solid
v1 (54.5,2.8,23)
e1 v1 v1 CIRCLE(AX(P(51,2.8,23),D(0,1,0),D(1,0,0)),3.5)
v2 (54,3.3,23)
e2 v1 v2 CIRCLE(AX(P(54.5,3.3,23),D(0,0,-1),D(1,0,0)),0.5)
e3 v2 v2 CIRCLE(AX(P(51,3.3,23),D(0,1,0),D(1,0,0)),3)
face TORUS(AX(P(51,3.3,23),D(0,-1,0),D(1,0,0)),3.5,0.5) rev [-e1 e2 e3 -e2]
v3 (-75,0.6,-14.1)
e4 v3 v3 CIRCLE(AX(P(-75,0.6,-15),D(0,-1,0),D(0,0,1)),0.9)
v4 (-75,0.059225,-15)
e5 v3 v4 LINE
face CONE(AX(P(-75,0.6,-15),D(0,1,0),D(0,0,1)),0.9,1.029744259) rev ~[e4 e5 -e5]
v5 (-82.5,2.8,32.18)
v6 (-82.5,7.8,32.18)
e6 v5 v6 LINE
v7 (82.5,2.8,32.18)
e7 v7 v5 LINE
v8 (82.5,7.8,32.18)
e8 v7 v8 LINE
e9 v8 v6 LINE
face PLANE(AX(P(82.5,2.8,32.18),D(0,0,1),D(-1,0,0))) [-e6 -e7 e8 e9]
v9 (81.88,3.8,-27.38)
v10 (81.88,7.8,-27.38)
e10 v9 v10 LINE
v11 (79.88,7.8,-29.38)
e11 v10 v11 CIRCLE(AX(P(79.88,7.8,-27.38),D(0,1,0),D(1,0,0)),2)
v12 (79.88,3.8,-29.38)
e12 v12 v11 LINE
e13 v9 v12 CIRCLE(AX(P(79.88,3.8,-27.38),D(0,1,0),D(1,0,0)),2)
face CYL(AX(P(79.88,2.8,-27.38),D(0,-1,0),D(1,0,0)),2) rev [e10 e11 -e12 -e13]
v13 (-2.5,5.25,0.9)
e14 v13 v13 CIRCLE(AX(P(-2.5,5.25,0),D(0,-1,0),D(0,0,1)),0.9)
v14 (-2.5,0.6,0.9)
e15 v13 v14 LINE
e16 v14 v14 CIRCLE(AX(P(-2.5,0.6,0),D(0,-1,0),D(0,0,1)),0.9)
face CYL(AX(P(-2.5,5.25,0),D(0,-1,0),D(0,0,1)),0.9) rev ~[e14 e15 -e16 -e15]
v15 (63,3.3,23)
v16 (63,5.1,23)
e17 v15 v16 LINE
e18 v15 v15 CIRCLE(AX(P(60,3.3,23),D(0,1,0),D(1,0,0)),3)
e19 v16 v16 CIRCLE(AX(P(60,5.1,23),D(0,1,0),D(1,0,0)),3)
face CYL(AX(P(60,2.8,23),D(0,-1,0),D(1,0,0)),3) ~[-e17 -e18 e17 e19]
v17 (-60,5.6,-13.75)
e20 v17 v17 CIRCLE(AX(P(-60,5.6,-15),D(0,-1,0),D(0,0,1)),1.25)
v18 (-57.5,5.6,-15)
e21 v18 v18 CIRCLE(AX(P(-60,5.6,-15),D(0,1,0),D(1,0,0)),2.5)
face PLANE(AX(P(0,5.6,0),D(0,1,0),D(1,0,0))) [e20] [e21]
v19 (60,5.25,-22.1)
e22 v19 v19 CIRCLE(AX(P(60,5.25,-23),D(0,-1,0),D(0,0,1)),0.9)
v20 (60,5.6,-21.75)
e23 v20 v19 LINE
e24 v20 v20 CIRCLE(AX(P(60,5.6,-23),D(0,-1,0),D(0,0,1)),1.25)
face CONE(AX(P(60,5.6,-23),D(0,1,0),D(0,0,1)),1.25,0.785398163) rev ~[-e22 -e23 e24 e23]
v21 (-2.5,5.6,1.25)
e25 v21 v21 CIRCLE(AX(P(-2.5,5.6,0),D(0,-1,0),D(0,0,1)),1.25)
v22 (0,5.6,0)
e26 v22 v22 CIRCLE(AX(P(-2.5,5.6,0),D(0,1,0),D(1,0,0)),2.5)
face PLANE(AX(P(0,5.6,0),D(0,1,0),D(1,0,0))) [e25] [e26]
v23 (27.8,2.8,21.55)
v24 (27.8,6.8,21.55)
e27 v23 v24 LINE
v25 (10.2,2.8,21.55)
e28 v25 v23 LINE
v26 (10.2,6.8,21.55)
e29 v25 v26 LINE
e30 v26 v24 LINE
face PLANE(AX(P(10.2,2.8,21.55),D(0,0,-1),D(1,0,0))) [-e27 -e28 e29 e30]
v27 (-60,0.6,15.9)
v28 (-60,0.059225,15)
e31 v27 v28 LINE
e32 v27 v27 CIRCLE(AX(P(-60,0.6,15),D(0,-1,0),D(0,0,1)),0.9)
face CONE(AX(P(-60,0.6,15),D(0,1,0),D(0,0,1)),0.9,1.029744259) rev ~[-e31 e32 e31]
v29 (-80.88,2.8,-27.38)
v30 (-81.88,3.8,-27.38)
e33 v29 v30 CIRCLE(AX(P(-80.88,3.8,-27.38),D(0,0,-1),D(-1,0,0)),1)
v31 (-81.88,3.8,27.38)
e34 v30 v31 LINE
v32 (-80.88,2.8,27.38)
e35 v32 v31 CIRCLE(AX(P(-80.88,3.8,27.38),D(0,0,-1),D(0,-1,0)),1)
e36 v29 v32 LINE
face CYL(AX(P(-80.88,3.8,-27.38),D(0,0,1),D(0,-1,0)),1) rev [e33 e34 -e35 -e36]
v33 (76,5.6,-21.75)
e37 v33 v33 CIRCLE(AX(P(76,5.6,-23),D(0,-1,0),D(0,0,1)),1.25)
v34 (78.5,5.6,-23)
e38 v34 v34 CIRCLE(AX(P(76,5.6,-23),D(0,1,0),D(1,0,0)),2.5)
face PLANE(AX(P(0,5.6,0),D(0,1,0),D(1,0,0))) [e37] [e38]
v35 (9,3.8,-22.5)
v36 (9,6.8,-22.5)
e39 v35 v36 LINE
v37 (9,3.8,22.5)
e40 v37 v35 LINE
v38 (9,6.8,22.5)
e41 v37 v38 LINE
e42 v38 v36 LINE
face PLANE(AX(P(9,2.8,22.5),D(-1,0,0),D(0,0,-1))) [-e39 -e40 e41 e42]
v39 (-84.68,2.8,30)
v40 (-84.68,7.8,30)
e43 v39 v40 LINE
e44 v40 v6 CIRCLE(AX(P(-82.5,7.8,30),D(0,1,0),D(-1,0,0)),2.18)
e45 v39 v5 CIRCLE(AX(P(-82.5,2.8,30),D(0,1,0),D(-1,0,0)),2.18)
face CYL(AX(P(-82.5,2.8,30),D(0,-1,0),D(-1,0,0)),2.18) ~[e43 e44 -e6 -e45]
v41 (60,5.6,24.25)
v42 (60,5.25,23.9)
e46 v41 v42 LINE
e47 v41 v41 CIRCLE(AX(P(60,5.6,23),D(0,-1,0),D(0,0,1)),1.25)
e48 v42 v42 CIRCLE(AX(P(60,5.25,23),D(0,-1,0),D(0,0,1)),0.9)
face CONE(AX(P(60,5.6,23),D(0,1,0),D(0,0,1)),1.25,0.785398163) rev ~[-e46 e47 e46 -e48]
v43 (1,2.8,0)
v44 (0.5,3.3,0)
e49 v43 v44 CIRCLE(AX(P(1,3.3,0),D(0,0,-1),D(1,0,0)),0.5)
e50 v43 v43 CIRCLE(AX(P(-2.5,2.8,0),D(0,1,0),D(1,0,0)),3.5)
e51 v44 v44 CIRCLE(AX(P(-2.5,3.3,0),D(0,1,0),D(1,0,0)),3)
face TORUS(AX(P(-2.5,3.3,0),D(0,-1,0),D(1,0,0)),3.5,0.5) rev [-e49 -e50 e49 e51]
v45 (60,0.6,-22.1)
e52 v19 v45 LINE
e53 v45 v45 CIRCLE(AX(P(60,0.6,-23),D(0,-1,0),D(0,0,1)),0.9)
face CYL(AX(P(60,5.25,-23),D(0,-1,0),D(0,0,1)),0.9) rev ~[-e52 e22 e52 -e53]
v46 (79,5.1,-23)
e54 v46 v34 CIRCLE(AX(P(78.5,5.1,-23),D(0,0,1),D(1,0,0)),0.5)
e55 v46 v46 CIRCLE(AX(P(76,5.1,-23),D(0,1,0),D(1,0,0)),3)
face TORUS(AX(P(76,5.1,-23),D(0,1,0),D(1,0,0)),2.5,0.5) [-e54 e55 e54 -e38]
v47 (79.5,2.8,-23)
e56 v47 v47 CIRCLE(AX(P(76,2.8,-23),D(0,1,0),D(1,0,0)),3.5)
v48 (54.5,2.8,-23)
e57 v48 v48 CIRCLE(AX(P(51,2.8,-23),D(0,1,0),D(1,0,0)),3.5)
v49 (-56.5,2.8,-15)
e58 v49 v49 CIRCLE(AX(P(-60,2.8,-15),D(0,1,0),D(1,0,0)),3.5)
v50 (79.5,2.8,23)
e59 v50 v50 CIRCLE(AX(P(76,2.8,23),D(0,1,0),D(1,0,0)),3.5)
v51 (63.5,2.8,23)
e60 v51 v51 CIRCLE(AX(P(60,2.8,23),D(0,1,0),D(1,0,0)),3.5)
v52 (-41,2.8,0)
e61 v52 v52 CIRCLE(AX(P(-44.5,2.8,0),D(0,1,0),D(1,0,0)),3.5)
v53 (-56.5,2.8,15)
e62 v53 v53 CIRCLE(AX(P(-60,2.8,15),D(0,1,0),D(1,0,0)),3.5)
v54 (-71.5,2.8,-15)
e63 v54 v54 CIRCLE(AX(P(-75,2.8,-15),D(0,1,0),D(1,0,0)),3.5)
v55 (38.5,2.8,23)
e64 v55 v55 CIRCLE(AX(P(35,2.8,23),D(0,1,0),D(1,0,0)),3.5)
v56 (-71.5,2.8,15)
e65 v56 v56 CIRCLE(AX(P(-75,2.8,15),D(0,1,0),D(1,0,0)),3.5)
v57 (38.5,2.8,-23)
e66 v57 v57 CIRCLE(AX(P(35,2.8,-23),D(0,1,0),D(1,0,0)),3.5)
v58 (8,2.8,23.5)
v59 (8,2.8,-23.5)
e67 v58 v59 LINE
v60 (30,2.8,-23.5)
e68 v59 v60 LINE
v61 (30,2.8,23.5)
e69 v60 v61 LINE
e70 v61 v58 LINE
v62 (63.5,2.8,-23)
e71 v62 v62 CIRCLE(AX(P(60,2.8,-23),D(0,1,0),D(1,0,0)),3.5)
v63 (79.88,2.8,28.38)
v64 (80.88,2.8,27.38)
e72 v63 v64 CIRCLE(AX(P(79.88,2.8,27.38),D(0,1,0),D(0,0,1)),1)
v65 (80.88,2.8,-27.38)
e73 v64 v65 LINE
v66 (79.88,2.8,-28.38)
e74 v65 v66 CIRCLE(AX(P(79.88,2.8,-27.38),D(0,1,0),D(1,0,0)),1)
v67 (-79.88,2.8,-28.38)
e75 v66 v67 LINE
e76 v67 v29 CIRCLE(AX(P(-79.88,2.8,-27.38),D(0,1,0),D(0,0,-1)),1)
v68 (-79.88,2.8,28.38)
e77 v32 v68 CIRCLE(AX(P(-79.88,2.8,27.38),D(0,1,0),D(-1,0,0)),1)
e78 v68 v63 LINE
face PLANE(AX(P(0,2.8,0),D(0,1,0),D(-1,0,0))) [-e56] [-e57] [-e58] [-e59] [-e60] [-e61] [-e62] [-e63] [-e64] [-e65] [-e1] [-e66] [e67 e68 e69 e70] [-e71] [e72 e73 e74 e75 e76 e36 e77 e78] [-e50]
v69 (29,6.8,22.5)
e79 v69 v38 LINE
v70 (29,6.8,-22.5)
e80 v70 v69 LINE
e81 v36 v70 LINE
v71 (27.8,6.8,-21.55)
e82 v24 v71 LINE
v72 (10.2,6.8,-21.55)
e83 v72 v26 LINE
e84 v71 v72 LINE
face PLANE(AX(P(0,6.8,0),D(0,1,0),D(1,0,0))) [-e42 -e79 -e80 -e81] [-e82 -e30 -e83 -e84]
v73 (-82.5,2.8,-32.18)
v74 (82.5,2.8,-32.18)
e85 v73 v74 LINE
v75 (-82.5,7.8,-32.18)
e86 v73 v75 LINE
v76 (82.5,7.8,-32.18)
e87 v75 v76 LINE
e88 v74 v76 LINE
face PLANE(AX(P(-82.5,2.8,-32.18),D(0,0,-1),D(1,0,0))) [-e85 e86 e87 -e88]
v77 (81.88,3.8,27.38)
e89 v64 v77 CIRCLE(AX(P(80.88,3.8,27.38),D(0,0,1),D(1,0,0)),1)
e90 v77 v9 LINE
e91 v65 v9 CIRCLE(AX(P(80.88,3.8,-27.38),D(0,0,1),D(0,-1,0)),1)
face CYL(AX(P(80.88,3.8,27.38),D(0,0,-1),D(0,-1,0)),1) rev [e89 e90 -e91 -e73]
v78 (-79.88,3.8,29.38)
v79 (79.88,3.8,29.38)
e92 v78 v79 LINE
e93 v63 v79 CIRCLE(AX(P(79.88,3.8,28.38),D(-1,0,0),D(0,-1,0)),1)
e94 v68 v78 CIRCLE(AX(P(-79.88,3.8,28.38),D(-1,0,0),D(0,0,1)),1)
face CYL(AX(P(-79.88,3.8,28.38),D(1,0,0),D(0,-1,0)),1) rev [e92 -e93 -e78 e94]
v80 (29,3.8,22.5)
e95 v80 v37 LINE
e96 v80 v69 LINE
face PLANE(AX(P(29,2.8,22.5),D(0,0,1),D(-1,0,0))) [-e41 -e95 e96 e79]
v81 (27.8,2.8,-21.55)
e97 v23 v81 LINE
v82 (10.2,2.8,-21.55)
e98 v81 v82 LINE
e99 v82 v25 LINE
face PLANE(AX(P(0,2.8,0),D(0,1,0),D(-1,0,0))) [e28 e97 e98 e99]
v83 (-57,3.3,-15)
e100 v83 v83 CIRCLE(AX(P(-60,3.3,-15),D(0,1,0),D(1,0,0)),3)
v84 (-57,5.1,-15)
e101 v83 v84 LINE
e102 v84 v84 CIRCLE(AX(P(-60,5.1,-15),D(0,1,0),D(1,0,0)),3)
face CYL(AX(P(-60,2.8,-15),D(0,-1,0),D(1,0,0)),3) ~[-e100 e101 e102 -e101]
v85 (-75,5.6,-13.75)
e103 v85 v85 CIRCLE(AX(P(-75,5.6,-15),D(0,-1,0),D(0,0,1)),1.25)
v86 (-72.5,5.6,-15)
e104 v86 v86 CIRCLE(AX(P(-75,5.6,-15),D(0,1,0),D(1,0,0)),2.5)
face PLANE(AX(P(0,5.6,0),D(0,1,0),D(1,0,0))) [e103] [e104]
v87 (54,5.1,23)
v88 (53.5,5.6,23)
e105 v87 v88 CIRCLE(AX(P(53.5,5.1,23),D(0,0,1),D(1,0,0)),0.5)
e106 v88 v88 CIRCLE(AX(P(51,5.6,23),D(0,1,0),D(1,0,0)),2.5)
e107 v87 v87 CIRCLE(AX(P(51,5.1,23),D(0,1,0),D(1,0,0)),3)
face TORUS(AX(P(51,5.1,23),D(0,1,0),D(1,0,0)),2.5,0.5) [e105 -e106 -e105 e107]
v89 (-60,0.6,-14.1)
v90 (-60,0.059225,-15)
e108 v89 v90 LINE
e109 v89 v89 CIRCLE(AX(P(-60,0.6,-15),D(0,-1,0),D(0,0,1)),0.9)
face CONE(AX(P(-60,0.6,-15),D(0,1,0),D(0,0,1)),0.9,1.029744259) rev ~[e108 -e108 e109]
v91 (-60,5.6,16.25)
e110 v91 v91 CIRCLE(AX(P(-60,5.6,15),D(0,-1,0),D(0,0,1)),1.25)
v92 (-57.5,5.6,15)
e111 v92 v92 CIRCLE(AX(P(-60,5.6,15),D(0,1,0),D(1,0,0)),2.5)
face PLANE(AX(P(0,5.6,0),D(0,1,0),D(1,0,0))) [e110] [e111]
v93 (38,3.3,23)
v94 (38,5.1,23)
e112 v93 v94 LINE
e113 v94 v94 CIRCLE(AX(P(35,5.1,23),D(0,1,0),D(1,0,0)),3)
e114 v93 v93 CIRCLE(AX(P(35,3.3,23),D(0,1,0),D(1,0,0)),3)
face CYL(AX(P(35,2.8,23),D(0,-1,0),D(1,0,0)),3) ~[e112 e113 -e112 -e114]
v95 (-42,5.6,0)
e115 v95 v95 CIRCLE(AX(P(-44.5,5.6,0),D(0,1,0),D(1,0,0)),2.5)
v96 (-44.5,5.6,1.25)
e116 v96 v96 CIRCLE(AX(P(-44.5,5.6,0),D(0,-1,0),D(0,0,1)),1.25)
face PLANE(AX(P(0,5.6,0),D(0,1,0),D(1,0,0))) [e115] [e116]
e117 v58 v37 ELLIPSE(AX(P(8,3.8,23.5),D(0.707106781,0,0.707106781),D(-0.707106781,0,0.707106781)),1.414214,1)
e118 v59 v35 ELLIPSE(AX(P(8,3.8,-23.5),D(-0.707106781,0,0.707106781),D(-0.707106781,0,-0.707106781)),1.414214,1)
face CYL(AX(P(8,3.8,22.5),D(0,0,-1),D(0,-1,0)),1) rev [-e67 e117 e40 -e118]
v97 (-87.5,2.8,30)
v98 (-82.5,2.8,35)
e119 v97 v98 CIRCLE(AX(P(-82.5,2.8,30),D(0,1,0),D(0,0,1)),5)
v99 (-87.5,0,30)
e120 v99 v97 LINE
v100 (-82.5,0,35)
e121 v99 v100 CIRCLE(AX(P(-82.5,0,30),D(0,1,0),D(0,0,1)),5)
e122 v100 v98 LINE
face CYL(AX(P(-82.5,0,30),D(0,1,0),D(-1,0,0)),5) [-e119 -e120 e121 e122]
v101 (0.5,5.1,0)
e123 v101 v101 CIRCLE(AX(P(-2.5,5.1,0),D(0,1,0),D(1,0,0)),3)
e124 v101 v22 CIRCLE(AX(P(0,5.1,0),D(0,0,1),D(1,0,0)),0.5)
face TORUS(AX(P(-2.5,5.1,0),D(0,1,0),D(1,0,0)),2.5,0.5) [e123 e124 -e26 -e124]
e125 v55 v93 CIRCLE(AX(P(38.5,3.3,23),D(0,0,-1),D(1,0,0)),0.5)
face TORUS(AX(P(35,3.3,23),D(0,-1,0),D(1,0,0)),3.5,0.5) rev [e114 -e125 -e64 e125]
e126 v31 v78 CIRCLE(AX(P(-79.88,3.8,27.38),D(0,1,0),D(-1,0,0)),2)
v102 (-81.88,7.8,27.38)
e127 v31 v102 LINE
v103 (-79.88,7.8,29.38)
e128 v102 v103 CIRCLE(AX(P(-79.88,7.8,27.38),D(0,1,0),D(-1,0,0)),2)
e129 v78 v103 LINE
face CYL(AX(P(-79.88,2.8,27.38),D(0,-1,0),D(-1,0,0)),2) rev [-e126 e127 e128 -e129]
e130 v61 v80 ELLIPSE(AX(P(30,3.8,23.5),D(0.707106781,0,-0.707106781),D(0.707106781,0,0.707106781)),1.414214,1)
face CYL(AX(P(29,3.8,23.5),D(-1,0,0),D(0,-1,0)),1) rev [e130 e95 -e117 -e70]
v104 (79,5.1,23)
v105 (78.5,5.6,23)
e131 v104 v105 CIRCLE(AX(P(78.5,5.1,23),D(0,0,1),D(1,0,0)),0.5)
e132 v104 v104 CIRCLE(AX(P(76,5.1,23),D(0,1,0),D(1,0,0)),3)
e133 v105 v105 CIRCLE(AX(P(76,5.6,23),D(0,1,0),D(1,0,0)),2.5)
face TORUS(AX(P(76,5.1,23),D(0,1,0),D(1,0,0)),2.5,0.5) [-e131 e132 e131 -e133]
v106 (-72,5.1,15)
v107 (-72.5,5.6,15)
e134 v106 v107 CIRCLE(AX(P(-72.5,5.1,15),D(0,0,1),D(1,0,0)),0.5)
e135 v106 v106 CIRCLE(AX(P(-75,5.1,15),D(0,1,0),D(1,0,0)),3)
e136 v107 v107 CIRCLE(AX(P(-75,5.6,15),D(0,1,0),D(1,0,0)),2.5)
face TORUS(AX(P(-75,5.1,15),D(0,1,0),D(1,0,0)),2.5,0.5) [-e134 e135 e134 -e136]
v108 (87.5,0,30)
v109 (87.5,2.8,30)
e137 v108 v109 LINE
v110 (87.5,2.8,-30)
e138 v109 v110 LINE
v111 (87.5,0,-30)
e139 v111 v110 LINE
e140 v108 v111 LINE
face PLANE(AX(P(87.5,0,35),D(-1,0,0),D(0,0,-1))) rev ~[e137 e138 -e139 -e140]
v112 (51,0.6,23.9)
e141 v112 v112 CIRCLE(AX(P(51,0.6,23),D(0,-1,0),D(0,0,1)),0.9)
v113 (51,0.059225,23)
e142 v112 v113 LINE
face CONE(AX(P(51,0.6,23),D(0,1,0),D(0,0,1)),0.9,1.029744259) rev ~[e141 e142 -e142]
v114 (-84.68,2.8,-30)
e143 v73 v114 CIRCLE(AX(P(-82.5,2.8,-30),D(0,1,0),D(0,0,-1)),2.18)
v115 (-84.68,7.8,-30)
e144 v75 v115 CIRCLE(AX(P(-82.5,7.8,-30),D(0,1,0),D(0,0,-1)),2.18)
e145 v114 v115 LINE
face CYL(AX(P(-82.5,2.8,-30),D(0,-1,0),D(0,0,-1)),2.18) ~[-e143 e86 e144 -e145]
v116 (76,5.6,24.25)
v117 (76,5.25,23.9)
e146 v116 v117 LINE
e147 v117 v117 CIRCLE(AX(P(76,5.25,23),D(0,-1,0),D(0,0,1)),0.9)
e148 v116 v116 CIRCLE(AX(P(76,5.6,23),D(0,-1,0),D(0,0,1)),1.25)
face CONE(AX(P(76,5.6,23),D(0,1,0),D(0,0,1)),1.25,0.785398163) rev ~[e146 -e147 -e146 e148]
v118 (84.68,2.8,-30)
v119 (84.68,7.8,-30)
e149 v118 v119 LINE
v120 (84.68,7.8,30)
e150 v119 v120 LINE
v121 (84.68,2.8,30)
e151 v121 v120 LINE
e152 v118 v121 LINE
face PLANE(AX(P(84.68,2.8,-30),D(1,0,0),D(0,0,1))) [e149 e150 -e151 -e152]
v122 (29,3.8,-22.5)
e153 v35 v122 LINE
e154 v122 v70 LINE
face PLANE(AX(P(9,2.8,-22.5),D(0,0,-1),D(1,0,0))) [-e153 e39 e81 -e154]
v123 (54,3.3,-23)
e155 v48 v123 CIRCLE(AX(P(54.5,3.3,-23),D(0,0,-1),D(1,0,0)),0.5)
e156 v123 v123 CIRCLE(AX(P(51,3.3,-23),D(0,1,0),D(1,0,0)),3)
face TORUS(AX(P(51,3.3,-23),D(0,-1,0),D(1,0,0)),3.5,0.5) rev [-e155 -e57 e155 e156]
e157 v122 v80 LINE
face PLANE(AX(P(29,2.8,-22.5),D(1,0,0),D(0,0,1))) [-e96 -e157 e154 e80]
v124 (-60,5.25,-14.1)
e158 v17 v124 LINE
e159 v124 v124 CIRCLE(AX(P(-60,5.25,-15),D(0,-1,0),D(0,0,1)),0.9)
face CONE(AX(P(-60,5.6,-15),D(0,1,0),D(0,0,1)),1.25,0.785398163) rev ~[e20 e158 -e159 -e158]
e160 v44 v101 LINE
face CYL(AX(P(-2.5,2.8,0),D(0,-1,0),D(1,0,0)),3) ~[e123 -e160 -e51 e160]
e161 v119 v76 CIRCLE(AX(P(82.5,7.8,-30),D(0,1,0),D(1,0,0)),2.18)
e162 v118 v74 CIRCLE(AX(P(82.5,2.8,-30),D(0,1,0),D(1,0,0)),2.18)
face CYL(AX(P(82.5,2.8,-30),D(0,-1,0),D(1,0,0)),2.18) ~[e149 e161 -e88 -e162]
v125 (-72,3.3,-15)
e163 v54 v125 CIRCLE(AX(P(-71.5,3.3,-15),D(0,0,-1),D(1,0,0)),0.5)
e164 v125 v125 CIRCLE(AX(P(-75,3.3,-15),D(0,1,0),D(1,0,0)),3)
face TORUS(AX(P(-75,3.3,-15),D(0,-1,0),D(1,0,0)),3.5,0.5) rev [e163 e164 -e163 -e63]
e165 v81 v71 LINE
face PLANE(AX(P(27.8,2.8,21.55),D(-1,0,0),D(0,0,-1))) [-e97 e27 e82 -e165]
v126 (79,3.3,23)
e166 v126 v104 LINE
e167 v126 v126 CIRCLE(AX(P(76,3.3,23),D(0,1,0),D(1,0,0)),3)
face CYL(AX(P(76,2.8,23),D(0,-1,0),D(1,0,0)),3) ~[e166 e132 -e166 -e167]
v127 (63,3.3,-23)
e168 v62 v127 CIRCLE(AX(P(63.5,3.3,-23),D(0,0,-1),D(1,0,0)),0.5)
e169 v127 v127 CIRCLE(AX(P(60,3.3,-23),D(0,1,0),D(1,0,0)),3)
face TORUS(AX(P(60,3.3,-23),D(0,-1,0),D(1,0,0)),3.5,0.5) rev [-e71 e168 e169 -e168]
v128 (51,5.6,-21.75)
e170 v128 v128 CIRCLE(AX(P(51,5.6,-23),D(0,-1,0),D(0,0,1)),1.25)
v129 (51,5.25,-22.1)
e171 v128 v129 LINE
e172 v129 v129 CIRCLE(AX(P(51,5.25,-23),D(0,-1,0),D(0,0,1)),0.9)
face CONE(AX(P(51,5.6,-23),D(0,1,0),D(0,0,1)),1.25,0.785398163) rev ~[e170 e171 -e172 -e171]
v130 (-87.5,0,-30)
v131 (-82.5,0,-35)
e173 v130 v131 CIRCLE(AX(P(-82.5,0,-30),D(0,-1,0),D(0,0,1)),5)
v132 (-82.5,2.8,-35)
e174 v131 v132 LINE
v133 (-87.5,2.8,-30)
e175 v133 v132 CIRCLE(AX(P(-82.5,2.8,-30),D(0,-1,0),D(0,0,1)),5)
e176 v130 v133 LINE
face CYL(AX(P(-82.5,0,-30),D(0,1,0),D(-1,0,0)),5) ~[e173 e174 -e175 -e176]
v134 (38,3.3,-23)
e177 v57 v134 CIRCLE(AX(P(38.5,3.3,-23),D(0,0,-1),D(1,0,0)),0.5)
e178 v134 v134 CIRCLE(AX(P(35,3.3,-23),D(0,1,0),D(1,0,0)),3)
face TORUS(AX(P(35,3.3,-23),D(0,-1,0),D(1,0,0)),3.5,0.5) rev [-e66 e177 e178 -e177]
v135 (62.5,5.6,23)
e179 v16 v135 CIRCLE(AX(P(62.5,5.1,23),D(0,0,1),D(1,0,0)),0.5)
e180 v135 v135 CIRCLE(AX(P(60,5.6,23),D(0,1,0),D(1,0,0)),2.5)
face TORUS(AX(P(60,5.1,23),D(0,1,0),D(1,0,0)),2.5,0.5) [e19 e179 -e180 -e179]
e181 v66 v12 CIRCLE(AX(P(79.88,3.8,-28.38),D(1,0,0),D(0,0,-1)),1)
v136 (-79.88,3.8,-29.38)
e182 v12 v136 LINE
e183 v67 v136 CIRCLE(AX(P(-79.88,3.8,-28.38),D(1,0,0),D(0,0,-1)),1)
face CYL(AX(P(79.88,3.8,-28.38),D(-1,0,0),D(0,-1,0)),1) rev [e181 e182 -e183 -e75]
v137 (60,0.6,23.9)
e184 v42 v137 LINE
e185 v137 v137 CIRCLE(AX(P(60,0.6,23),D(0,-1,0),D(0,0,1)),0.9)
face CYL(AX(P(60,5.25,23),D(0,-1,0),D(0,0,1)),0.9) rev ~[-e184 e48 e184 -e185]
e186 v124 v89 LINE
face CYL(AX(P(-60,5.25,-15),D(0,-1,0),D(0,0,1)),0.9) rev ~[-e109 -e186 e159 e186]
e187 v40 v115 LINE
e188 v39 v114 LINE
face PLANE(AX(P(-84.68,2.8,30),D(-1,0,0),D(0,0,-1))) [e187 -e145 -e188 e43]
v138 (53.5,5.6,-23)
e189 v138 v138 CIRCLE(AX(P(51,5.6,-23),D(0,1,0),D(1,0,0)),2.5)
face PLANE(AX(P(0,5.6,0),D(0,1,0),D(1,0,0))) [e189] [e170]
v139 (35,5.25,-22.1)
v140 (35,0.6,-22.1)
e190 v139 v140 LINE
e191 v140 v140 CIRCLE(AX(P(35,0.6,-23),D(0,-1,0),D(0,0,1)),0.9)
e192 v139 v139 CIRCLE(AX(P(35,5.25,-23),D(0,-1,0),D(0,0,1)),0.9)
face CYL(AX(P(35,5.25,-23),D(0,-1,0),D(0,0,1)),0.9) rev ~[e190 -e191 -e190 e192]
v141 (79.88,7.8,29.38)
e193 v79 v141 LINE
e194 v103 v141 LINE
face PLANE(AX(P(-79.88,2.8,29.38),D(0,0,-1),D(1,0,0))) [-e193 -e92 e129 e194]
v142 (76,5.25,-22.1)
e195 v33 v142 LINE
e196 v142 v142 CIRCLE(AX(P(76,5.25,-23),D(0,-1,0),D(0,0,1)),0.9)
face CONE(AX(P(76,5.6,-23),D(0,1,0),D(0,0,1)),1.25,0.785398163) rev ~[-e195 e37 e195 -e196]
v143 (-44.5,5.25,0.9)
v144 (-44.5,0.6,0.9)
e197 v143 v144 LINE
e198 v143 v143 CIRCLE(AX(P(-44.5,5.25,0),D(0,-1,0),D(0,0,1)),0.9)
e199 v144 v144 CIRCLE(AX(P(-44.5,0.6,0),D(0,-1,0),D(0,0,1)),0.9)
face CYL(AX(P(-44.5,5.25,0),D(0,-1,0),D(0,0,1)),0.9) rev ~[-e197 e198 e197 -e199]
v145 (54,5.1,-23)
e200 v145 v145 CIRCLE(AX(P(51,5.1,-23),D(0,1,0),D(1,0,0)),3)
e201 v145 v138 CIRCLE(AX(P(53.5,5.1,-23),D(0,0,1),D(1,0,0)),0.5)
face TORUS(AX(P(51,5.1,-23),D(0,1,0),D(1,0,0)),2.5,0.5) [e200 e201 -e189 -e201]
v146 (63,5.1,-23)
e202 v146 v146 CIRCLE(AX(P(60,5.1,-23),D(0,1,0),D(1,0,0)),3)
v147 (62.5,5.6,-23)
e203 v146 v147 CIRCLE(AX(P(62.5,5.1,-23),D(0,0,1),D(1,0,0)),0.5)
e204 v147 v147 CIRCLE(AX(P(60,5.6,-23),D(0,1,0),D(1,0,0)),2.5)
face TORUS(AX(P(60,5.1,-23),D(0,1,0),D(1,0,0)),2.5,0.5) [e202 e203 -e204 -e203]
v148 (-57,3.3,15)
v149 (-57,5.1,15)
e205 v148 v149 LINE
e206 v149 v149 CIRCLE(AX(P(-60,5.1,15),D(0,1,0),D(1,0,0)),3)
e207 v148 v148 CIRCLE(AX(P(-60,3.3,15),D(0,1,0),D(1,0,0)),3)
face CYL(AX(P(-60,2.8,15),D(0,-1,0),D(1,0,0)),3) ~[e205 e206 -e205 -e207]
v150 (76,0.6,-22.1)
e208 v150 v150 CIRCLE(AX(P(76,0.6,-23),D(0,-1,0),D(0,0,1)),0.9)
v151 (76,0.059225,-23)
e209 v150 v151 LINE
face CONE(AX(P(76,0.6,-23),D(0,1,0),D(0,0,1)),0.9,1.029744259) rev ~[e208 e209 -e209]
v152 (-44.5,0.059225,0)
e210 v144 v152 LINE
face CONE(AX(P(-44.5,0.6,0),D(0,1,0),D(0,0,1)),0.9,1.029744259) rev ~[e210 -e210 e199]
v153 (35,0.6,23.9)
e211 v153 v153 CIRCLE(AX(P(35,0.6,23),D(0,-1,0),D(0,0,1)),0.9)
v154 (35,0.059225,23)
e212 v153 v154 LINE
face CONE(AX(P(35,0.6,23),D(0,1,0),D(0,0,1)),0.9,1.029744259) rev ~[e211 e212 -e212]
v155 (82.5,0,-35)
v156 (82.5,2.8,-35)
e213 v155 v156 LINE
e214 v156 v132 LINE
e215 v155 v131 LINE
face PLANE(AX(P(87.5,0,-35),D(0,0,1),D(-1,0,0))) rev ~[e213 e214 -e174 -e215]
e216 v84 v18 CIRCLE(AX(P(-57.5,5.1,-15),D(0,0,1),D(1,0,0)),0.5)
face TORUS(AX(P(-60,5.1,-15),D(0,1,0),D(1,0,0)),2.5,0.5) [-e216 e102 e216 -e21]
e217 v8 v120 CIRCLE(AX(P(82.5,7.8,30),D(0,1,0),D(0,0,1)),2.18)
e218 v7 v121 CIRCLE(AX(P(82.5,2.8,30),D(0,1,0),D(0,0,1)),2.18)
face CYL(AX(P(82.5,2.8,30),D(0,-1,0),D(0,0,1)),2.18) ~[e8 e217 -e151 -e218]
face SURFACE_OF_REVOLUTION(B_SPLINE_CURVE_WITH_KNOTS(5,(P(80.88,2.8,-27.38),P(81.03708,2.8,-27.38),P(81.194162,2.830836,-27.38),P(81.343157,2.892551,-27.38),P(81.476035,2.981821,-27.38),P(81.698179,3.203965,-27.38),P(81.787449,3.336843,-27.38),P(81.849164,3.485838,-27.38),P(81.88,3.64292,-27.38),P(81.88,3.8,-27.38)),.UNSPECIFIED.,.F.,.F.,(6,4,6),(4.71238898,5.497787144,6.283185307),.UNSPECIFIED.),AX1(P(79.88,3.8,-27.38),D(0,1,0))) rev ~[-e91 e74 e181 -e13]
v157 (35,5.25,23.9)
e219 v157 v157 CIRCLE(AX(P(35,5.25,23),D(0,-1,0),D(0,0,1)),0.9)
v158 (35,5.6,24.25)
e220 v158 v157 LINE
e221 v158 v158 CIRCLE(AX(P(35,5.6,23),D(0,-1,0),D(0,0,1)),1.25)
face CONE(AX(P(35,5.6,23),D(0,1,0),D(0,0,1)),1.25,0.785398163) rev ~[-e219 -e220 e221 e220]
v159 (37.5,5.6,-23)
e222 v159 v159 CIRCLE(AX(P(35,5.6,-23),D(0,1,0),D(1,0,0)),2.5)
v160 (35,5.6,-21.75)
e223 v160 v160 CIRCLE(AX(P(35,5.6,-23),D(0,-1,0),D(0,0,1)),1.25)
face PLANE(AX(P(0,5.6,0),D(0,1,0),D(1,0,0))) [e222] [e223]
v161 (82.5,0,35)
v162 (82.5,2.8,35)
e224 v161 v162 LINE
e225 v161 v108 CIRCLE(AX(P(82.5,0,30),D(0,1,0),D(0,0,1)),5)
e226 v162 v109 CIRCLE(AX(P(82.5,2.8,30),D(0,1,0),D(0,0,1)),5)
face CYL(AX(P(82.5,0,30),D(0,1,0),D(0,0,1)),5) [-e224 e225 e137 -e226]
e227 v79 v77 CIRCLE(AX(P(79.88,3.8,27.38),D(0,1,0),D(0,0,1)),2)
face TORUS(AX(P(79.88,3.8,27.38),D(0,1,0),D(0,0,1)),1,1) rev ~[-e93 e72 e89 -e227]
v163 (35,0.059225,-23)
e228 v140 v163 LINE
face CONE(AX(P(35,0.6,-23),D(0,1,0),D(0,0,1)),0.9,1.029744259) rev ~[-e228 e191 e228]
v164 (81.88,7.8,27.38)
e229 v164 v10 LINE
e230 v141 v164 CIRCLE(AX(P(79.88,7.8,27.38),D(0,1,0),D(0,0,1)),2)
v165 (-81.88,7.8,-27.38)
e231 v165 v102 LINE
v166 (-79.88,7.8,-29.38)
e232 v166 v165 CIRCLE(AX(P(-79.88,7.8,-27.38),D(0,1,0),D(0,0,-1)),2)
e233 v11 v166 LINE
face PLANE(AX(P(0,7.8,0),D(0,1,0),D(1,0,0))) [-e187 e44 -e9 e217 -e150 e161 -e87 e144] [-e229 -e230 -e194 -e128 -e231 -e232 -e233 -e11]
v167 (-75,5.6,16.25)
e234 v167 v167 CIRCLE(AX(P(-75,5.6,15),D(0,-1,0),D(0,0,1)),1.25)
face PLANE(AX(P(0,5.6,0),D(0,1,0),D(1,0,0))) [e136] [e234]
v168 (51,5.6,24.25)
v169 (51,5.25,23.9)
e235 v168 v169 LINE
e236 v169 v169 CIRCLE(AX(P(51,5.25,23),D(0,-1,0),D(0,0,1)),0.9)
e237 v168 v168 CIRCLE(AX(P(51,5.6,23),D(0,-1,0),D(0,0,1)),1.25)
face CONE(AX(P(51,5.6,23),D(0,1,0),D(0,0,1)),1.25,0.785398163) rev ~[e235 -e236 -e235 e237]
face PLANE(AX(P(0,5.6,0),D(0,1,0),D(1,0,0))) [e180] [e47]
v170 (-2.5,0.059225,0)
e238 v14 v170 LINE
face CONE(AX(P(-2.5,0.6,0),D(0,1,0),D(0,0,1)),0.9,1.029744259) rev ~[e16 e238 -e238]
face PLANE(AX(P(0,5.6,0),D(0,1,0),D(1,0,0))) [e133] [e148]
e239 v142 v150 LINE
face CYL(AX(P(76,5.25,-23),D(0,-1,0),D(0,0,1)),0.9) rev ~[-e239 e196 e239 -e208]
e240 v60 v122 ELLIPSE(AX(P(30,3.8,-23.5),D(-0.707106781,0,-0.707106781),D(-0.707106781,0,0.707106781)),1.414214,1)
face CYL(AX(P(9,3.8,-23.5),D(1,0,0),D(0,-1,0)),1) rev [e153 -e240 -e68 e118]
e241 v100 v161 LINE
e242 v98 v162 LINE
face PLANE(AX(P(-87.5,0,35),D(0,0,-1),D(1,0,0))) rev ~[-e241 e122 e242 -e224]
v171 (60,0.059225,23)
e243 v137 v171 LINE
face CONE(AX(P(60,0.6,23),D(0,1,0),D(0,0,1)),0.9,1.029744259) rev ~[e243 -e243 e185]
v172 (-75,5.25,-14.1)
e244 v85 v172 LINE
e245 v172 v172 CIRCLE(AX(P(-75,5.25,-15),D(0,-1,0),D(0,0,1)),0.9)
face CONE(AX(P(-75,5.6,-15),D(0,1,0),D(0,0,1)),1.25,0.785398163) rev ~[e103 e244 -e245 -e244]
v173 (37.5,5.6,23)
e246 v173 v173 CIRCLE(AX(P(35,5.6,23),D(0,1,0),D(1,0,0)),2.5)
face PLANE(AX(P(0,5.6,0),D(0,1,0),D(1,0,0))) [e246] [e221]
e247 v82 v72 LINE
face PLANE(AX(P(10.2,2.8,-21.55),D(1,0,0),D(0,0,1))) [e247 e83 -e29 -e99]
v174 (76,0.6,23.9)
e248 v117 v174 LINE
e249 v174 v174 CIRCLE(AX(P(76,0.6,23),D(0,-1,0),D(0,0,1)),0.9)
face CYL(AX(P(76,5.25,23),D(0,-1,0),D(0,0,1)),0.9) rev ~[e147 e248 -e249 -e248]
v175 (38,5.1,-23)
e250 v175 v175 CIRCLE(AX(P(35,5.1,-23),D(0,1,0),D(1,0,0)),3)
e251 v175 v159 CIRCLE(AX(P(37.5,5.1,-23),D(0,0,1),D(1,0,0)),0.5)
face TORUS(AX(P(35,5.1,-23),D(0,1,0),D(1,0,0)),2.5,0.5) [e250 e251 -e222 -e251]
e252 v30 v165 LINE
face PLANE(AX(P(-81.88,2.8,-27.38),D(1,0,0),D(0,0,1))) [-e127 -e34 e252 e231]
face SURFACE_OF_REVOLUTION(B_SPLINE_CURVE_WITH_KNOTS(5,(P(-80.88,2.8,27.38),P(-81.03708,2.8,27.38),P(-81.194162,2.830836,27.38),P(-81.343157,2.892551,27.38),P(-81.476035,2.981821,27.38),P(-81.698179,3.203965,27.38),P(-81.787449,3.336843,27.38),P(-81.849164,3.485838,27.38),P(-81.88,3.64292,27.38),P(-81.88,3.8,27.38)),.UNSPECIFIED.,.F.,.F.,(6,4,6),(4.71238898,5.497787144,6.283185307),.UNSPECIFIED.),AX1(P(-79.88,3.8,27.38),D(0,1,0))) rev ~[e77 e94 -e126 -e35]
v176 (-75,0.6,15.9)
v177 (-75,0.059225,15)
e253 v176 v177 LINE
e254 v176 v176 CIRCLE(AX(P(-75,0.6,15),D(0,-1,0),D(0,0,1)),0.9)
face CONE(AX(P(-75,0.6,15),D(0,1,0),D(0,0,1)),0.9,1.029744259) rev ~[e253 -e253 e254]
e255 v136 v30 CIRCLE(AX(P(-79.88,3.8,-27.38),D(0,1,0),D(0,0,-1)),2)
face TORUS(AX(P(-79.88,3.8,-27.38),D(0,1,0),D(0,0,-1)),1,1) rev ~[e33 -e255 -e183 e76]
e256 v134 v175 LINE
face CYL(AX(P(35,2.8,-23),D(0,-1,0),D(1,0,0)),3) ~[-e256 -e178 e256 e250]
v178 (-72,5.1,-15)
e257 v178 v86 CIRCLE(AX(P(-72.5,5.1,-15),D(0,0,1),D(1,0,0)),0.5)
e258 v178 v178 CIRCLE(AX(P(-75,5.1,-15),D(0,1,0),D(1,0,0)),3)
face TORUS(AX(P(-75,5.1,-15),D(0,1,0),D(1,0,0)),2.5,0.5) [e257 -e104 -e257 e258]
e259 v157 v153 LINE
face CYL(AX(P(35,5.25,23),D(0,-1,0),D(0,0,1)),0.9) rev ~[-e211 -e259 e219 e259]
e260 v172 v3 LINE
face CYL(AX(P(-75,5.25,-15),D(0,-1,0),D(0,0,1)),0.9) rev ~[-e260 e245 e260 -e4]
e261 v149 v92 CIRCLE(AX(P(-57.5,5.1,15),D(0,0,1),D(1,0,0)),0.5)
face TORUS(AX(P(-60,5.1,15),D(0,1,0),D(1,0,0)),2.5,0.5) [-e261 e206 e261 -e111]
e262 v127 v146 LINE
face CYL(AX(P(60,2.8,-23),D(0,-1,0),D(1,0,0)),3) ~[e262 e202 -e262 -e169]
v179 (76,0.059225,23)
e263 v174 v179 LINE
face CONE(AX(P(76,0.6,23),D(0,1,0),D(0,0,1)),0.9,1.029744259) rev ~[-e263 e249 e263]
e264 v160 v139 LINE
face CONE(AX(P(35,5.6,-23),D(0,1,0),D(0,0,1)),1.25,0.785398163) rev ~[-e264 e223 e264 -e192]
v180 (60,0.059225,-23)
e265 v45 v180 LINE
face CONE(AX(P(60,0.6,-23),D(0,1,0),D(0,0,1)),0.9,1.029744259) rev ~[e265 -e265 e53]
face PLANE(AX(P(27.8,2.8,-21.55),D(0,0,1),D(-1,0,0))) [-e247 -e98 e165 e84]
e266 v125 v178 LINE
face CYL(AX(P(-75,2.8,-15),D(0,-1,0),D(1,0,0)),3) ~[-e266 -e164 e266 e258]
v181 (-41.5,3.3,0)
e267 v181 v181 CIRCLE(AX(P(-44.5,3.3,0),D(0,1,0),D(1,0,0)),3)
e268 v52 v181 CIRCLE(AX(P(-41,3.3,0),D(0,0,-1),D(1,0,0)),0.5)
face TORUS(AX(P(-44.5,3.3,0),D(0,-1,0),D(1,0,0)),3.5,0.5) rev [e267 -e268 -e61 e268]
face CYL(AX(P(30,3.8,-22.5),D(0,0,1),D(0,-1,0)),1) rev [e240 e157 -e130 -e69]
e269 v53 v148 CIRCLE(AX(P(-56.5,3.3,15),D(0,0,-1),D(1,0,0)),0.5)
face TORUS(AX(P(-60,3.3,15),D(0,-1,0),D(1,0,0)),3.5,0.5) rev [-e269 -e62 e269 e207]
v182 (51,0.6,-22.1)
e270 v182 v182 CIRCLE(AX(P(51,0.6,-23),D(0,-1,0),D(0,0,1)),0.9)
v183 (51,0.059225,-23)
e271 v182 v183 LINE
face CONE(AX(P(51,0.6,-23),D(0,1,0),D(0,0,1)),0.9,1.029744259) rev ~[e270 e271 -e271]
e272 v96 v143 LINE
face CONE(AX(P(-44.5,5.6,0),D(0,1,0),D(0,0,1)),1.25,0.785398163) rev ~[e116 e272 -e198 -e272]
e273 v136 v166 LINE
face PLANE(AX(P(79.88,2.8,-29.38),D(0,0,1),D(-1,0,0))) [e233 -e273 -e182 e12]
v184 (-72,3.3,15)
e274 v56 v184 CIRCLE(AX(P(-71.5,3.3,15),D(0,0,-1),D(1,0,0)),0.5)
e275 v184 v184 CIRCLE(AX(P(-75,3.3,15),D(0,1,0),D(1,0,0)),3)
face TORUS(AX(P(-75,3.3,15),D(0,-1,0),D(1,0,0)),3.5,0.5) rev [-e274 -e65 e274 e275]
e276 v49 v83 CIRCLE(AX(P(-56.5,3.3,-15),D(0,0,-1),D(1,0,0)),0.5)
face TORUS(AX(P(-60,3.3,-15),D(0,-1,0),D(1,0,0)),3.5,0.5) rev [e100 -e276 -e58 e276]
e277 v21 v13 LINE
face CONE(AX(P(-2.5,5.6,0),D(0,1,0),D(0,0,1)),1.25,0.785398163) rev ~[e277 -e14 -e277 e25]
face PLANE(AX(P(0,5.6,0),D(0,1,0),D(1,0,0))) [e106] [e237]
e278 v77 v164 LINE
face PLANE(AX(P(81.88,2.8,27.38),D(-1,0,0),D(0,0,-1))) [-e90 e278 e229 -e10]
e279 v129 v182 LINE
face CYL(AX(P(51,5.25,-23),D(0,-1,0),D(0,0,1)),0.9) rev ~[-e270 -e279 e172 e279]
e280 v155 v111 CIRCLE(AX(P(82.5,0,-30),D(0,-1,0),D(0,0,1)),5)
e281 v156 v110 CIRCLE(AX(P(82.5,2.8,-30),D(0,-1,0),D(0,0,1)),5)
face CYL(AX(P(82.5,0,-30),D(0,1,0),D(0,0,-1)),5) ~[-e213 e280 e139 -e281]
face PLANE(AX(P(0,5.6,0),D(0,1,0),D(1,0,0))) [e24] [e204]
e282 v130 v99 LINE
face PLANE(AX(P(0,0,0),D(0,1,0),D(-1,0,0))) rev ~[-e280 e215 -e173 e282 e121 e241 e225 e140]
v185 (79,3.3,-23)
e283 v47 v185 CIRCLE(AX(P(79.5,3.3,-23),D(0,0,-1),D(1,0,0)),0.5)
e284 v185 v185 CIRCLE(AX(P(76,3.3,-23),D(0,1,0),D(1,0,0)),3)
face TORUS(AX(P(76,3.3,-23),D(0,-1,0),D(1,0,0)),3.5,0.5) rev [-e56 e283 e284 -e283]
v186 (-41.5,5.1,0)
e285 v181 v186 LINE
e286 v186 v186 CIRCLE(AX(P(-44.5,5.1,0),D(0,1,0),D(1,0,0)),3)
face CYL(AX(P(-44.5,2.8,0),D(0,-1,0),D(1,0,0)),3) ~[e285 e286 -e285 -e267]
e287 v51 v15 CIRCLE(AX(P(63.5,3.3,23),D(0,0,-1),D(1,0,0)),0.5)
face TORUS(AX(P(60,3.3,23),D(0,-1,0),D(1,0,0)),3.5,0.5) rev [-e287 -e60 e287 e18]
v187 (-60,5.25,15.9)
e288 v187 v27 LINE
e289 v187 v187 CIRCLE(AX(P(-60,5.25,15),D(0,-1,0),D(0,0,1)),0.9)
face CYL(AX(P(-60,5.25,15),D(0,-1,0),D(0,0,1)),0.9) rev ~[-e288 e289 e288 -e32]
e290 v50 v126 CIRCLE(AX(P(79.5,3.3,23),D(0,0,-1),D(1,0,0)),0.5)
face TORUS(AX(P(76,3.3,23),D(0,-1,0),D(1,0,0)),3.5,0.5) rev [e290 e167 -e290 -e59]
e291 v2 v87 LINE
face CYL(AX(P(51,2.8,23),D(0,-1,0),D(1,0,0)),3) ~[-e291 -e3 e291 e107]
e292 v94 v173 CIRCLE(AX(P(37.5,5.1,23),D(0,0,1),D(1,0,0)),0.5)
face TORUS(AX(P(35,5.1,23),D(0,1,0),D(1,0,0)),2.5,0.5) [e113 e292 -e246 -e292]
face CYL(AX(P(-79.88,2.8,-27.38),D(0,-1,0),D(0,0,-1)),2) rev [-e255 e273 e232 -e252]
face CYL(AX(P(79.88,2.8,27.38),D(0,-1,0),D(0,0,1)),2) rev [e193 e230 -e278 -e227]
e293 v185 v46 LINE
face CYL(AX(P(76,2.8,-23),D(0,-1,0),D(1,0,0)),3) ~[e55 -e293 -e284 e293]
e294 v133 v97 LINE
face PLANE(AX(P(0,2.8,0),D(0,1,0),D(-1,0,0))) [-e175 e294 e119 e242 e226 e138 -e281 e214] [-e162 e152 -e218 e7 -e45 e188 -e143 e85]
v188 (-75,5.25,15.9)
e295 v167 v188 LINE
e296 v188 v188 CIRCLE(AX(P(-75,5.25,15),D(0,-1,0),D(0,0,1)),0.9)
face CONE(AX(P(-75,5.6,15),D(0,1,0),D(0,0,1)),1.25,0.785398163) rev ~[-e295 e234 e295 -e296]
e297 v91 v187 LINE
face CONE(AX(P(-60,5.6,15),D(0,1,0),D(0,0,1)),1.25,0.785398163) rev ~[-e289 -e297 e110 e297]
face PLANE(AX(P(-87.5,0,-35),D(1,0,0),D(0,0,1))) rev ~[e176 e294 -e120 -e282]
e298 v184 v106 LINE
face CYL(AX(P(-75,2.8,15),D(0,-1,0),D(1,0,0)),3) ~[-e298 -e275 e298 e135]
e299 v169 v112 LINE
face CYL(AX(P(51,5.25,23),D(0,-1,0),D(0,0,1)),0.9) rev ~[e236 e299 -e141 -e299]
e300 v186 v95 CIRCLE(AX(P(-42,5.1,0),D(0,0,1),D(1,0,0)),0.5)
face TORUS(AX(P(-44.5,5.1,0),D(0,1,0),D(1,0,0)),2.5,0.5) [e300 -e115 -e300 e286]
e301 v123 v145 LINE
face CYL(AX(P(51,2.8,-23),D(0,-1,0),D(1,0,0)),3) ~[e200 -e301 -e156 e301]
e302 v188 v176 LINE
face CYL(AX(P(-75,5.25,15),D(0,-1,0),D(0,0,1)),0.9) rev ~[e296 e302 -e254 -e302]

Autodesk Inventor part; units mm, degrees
ref_plane "YZ Plane" through (0, 0, 0) normal (1, 0, 0) x (0, 1, 0)
ref_plane "XZ Plane" through (0, 0, 0) normal (0, 1, 0) x (-1, 0, 0)
ref_plane "XY Plane" through (0, 0, 0) normal (0, 0, 1) x (1, 0, 0)
sketch "Boceto1" plane through (0, 0, 0) normal (0, 1, 0) x (-1, 0, 0)
  line L0 (78, 22) -> (57, 22)
  line L1 (57, 22) -> (57, -22)
  line L2 (57, -22) -> (78, -22)
  line L3 (78, -22) -> (78, 22)
  line L4 (78, 22) -> (57, -22) construction
  line L5 (57, 22) -> (78, -22) construction
  line L6 (52, 18) -> (-5, 18)
  line L7 (-5, 18) -> (-5, -18)
  line L8 (-5, -18) -> (52, -18)
  line L9 (52, -18) -> (52, 18)
  line L10 (52, 18) -> (-5, -18) construction
  line L11 (-5, 18) -> (52, -18) construction
  line L12 (-10, 21.5) -> (-28, 21.5)
  line L13 (-28, 21.5) -> (-28, -21.5)
  line L14 (-28, -21.5) -> (-10, -21.5)
  line L15 (-10, -21.5) -> (-10, 21.5)
  line L16 (-10, 21.5) -> (-28, -21.5) construction
  line L17 (-28, 21.5) -> (-10, -21.5) construction
  line L18 (-33, 25) -> (-53, 25)
  line L19 (-53, 25) -> (-53, -25)
  line L20 (-53, -25) -> (-33, -25)
  line L21 (-33, -25) -> (-33, 25)
  line L22 (-33, 25) -> (-53, -25) construction
  line L23 (-53, 25) -> (-33, -25) construction
  line L24 (-58, 25) -> (-78, 25)
  line L25 (-78, 25) -> (-78, -25)
  line L26 (-78, -25) -> (-58, -25)
  line L27 (-58, -25) -> (-58, 25)
  line L28 (-58, 25) -> (-78, -25) construction
  line L29 (-78, 25) -> (-58, -25) construction
  line L30 (87.5, 35) -> (-87.5, 35)
  line L31 (-87.5, 35) -> (-87.5, -35)
  line L32 (-87.5, -35) -> (87.5, -35)
  line L33 (87.5, -35) -> (87.5, 35)
  line L34 (87.5, 35) -> (-87.5, -35) construction
  line L35 (-87.5, 35) -> (87.5, -35) construction
  point P0 (0, 0)
  point P1 (67.5, 0)
  point P2 (23.5, 0)
  point P3 (-19, 0)
  point P4 (-43, 0)
  point P5 (-68, 0)
  point P6 (67.5, 0)
  point P7 (0, 0)
  point P8 (23.5, 0)
  point P9 (0, 0)
  point P10 (-19, 0)
  point P11 (-43, 0)
  point P12 (-68, 0)
  dimension "d0" = 21
  dimension "d1" = 44
  dimension "d2" = 57
  dimension "d3" = 36
  dimension "d4" = 18
  dimension "d5" = 43
  dimension "d6" = 20
  dimension "d7" = 50
  dimension "d8" = 20
  dimension "d9" = 50
  dimension "d10" = 5
  dimension "d11" = 5
  dimension "d12" = 5
  dimension "d13" = 5
  dimension "d15" = 9.5
  dimension "d16" = 9.5
  dimension "d17" = 70
  dimension "d18" = 175
extrude "Extrusión1" add sketch "Boceto1" along normal blind 2.8 contours L3 L2 L1 L0 | L9 L8 L7 L6 | L15 L14 L13 L12 | L21 L20 L19 L18 | L27 L26 L25 L24 | L33 L32 L31 L30
sketch "Boceto2" plane through (0, 2.8, 0) normal (0, 1, 0) x (1, 0, 0)
  line L0 (-87.5, -35) -> (87.5, -35) projected
  line L1 (87.5, -35) -> (87.5, 35) projected
  line L2 (87.5, 35) -> (-87.5, 35) projected
  line L3 (-87.5, 35) -> (-87.5, -35) projected
  line L4 (35, -23) -> (51, -23) construction
  line L5 (51, -23) -> (51, 23) construction
  line L6 (51, 23) -> (35, 23) construction
  line L7 (35, 23) -> (35, -23) construction
  line L8 (35, -23) -> (51, 23) construction
  line L9 (51, -23) -> (35, 23) construction
  line L10 (60, -23) -> (76, -23) construction
  line L11 (76, -23) -> (76, 23) construction
  line L12 (76, 23) -> (60, 23) construction
  line L13 (60, 23) -> (60, -23) construction
  line L14 (60, -23) -> (76, 23) construction
  line L15 (76, -23) -> (60, 23) construction
  line L16 (-2.5, -1.2609) -> (-2.5, 1.2609) construction
  line L17 (-44.5, 1.2609) -> (-44.5, -1.2609) construction
  line L18 (-75, -15) -> (-60, -15) construction
  line L19 (-60, -15) -> (-60, 15) construction
  line L20 (-60, 15) -> (-75, 15) construction
  line L21 (-75, 15) -> (-75, -15) construction
  line L22 (-75, -15) -> (-60, 15) construction
  line L23 (-60, -15) -> (-75, 15) construction
  circle A0 centre (-75, 15) radius 3
  circle A1 centre (-60, 15) radius 3
  circle A2 centre (-75, -15) radius 3
  circle A3 centre (-60, -15) radius 3
  circle A4 centre (-44.5, 0) radius 3
  circle A5 centre (-2.5, 0) radius 3
  circle A6 centre (35, 23) radius 3
  circle A7 centre (51, 23) radius 3
  circle A8 centre (35, -23) radius 3
  circle A9 centre (51, -23) radius 3
  circle A10 centre (60, -23) radius 3
  circle A11 centre (60, 23) radius 3
  circle A12 centre (76, 23) radius 3
  circle A13 centre (76, -23) radius 3
  point P0 (0, 0)
  point P1 (43, 0)
  point P2 (68, 0)
  point P3 (-67.5, 0)
  dimension "d21" = 16
  dimension "d22" = 46
  dimension "d23" = 16
  dimension "d24" = 46
  dimension "d25" = 42
  dimension "d26" = 15
  dimension "d27" = 30
  dimension "d28" = 6
  dimension "d29" = 6
  dimension "d30" = 6
  dimension "d31" = 6
  dimension "d32" = 6
  dimension "d33" = 6
  dimension "d34" = 6
  dimension "d35" = 6
  dimension "d36" = 6
  dimension "d37" = 6
  dimension "d38" = 6
  dimension "d39" = 6
  dimension "d40" = 6
  dimension "d41" = 6
extrude "Extrusión2" add sketch "Boceto2" along normal blind 2.8 contours A0 | A1 | A2 | A3 | A4 | A5 | A6 | A7 | A8 | A9 | A10 | A11 | A12 | A13
fillet "Empalme1" radius 0.5 28 edges at (-78, 5.6, 15) (-63, 5.6, 15) (-78, 5.6, -15) (-63, 5.6, -15) (-47.5, 5.6, 0) (-63, 2.8, -15) (-78, 2.8, -15) (-63, 2.8, 15) (-78, 2.8, 15) (-47.5, 2.8, 0) (-5.5, 5.6, 0) (-5.5, 2.8, 0) (32, 5.6, 23) (32, 2.8, 23) (48, 5.6, 23) (48, 2.8, 23) (57, 5.6, 23) (57, 2.8, 23) (73, 5.6, 23) (73, 2.8, 23) (48, 5.6, -23) (48, 2.8, -23) (57, 5.6, -23) (57, 2.8, -23) (73, 5.6, -23) (73, 2.8, -23) (32, 5.6, -23) (32, 2.8, -23)
fillet "Empalme2" radius 5 4 edges at (87.5, 1.4, 35) (87.5, 1.4, -35) (-87.5, 1.4, 35) (-87.5, 1.4, -35)
sketch "Boceto4" plane through (0, 2.8, 0) normal (0, 1, 0) x (1, 0, 0)
  circle A0 centre (76, 23) radius 3.5 projected
  circle A1 centre (51, 23) radius 3.5 projected
  circle A2 centre (60, -23) radius 3.5 projected
  circle A3 centre (35, -23) radius 3.5 projected
  circle A4 centre (-44.5, 0) radius 3.5 projected
  circle A5 centre (-60, -15) radius 3.5 projected
  circle A6 centre (-60, 15) radius 3.5 projected
  arc A7 (-82.5, 35) -> (-87.5, 30) centre (-82.5, 30) ccw projected
  line L0 (-87.5, 30) -> (-87.5, -30) projected
  arc A8 (-87.5, -30) -> (-82.5, -35) centre (-82.5, -30) ccw projected
  line L1 (-82.5, -35) -> (82.5, -35) projected
  arc A9 (82.5, -35) -> (87.5, -30) centre (82.5, -30) ccw projected
  line L2 (87.5, -30) -> (87.5, 30) projected
  arc A10 (87.5, 30) -> (82.5, 35) centre (82.5, 30) ccw projected
  line L3 (82.5, 35) -> (-82.5, 35) projected
  circle A11 centre (-75, 15) radius 3.5 projected
  circle A12 centre (-75, -15) radius 3.5 projected
  circle A13 centre (-2.5, 0) radius 3.5 projected
  circle A14 centre (51, -23) radius 3.5 projected
  circle A15 centre (76, -23) radius 3.5 projected
  circle A16 centre (60, 23) radius 3.5 projected
  circle A17 centre (35, 23) radius 3.5 projected
  arc A18 (-82.5, 32.18) -> (-84.68, 30) centre (-82.5, 30) ccw
  line L4 (-82.5, 32.18) -> (82.5, 32.18)
  arc A19 (84.68, 30) -> (82.5, 32.18) centre (82.5, 30) ccw
  line L5 (84.68, 30) -> (84.68, -30)
  arc A20 (82.5, -32.18) -> (84.68, -30) centre (82.5, -30) ccw
  line L6 (82.5, -32.18) -> (-82.5, -32.18)
  arc A21 (-84.68, -30) -> (-82.5, -32.18) centre (-82.5, -30) ccw
  line L7 (-84.68, -30) -> (-84.68, 30)
  line L8 (79.88, 29.38) -> (-79.88, 29.38)
  line L9 (-81.88, 27.38) -> (-81.88, -27.38)
  line L10 (-79.88, -29.38) -> (79.88, -29.38)
  line L11 (81.88, -27.38) -> (81.88, 27.38)
  arc A22 (-79.88, 29.38) -> (-81.88, 27.38) centre (-79.88, 27.38) ccw
  arc A23 (-81.88, -27.38) -> (-79.88, -29.38) centre (-79.88, -27.38) ccw
  arc A24 (79.88, -29.38) -> (81.88, -27.38) centre (79.88, -27.38) ccw
  arc A25 (81.88, 27.38) -> (79.88, 29.38) centre (79.88, 27.38) ccw
  point P0 (0, 0)
  dimension "d46" = 2.82
  dimension "d47" = 2.8
  dimension "d48" = 2
extrude "Extrusión3" add sketch "Boceto4" along normal blind 5 contours L4 A19 L5 A20 L6 A21 L7 A18
sketch "Boceto5" plane through (0, 2.8, 0) normal (0, 1, 0) x (1, 0, 0)
  arc A0 (81.88, 27.38) -> (79.88, 29.38) centre (79.88, 27.38) ccw projected
  line L0 (79.88, 29.38) -> (-79.88, 29.38) projected
  arc A1 (-79.88, 29.38) -> (-81.88, 27.38) centre (-79.88, 27.38) ccw projected
  line L1 (-81.88, 27.38) -> (-81.88, -27.38) projected
  arc A2 (-81.88, -27.38) -> (-79.88, -29.38) centre (-79.88, -27.38) ccw projected
  line L2 (-79.88, -29.38) -> (79.88, -29.38) projected
  arc A3 (79.88, -29.38) -> (81.88, -27.38) centre (79.88, -27.38) ccw projected
  line L3 (81.88, -27.38) -> (81.88, 27.38) projected
  circle A4 centre (76, 23) radius 3.5 projected
  circle A5 centre (51, 23) radius 3.5 projected
  circle A6 centre (60, -23) radius 3.5 projected
  circle A7 centre (35, -23) radius 3.5 projected
  circle A8 centre (-44.5, 0) radius 3.5 projected
  circle A9 centre (-60, -15) radius 3.5 projected
  circle A10 centre (-60, 15) radius 3.5 projected
  circle A11 centre (-75, 15) radius 3.5 projected
  circle A12 centre (-75, -15) radius 3.5 projected
  circle A13 centre (-2.5, 0) radius 3.5 projected
  circle A14 centre (51, -23) radius 3.5 projected
  circle A15 centre (76, -23) radius 3.5 projected
  circle A16 centre (60, 23) radius 3.5 projected
  circle A17 centre (35, 23) radius 3.5 projected
  line L4 (10.2, -21.55) -> (27.8, -21.55)
  line L5 (27.8, -21.55) -> (27.8, 21.55)
  line L6 (27.8, 21.55) -> (10.2, 21.55)
  line L7 (10.2, 21.55) -> (10.2, -21.55)
  line L8 (10.2, -21.55) -> (27.8, 21.55) construction
  line L9 (27.8, -21.55) -> (10.2, 21.55) construction
  line L10 (29, -22.5) -> (9, -22.5)
  line L11 (9, -22.5) -> (9, 22.5)
  line L12 (9, 22.5) -> (29, 22.5)
  line L13 (29, 22.5) -> (29, -22.5)
  line L14 (29, -22.5) -> (9, 22.5) construction
  line L15 (9, -22.5) -> (29, 22.5) construction
  point P0 (0, 0)
  point P1 (19, 0)
  point P2 (19, 0)
  dimension "d51" = 17.6
  dimension "d52" = 43.1
  dimension "d53" = 20
  dimension "d54" = 45
extrude "Extrusión4" add sketch "Boceto5" along normal blind 4 contours L10 L11 L12 L13
fillet "Empalme3" radius 1 4 edges at (29, 2.8, 0) (19, 2.8, 22.5) (9, 2.8, 0) (19, 2.8, -22.5)
fillet "Empalme4" radius 1 8 edges at (-81.2942, 2.8, -28.7942) (-81.88, 2.8, 0) (-81.2942, 2.8, 28.7942) (0, 2.8, 29.38) (81.2942, 2.8, 28.7942) (81.88, 2.8, 0) (81.2942, 2.8, -28.7942) (0, 2.8, -29.38)
sketch "Boceto6" plane through (-75, 5.6, -15) normal (0, 1, 0) x (1, 0, 0)
  circle A0 centre (0, 0) radius 2.5 projected
  circle A1 centre (15, 0) radius 2.5 projected
  circle A2 centre (30.5, -15) radius 2.5 projected
  circle A3 centre (15, -30) radius 2.5 projected
  circle A4 centre (0, -30) radius 2.5 projected
  circle A5 centre (72.5, -15) radius 2.5 projected
  circle A6 centre (110, 8) radius 2.5 projected
  circle A7 centre (126, 8) radius 2.5 projected
  circle A8 centre (135, 8) radius 2.5 projected
  circle A9 centre (151, 8) radius 2.5 projected
  circle A10 centre (110, -38) radius 2.5 projected
  circle A11 centre (126, -38) radius 2.5 projected
  circle A12 centre (135, -38) radius 2.5 projected
  circle A13 centre (151, -38) radius 2.5 projected
  point P0 (75, -15)
hole "Agujero1" at (-75, 5.6, -15) at (-60, 5.6, -15) at (-44.5, 5.6, 0) at (-60, 5.6, 15) at (-75, 5.6, 15) at (-2.5, 5.6, 0) at (35, 5.6, -23) at (51, 5.6, -23) at (60, 5.6, -23) at (76, 5.6, -23) at (35, 5.6, 23) at (51, 5.6, 23) at (60, 5.6, 23) at (76, 5.6, 23) direction (0, -1, 0) diameter 1.8 depth 5 tip angle 118 countersink diameter 2.5 countersink angle 90
properties part number "BASE INFERIOR"
